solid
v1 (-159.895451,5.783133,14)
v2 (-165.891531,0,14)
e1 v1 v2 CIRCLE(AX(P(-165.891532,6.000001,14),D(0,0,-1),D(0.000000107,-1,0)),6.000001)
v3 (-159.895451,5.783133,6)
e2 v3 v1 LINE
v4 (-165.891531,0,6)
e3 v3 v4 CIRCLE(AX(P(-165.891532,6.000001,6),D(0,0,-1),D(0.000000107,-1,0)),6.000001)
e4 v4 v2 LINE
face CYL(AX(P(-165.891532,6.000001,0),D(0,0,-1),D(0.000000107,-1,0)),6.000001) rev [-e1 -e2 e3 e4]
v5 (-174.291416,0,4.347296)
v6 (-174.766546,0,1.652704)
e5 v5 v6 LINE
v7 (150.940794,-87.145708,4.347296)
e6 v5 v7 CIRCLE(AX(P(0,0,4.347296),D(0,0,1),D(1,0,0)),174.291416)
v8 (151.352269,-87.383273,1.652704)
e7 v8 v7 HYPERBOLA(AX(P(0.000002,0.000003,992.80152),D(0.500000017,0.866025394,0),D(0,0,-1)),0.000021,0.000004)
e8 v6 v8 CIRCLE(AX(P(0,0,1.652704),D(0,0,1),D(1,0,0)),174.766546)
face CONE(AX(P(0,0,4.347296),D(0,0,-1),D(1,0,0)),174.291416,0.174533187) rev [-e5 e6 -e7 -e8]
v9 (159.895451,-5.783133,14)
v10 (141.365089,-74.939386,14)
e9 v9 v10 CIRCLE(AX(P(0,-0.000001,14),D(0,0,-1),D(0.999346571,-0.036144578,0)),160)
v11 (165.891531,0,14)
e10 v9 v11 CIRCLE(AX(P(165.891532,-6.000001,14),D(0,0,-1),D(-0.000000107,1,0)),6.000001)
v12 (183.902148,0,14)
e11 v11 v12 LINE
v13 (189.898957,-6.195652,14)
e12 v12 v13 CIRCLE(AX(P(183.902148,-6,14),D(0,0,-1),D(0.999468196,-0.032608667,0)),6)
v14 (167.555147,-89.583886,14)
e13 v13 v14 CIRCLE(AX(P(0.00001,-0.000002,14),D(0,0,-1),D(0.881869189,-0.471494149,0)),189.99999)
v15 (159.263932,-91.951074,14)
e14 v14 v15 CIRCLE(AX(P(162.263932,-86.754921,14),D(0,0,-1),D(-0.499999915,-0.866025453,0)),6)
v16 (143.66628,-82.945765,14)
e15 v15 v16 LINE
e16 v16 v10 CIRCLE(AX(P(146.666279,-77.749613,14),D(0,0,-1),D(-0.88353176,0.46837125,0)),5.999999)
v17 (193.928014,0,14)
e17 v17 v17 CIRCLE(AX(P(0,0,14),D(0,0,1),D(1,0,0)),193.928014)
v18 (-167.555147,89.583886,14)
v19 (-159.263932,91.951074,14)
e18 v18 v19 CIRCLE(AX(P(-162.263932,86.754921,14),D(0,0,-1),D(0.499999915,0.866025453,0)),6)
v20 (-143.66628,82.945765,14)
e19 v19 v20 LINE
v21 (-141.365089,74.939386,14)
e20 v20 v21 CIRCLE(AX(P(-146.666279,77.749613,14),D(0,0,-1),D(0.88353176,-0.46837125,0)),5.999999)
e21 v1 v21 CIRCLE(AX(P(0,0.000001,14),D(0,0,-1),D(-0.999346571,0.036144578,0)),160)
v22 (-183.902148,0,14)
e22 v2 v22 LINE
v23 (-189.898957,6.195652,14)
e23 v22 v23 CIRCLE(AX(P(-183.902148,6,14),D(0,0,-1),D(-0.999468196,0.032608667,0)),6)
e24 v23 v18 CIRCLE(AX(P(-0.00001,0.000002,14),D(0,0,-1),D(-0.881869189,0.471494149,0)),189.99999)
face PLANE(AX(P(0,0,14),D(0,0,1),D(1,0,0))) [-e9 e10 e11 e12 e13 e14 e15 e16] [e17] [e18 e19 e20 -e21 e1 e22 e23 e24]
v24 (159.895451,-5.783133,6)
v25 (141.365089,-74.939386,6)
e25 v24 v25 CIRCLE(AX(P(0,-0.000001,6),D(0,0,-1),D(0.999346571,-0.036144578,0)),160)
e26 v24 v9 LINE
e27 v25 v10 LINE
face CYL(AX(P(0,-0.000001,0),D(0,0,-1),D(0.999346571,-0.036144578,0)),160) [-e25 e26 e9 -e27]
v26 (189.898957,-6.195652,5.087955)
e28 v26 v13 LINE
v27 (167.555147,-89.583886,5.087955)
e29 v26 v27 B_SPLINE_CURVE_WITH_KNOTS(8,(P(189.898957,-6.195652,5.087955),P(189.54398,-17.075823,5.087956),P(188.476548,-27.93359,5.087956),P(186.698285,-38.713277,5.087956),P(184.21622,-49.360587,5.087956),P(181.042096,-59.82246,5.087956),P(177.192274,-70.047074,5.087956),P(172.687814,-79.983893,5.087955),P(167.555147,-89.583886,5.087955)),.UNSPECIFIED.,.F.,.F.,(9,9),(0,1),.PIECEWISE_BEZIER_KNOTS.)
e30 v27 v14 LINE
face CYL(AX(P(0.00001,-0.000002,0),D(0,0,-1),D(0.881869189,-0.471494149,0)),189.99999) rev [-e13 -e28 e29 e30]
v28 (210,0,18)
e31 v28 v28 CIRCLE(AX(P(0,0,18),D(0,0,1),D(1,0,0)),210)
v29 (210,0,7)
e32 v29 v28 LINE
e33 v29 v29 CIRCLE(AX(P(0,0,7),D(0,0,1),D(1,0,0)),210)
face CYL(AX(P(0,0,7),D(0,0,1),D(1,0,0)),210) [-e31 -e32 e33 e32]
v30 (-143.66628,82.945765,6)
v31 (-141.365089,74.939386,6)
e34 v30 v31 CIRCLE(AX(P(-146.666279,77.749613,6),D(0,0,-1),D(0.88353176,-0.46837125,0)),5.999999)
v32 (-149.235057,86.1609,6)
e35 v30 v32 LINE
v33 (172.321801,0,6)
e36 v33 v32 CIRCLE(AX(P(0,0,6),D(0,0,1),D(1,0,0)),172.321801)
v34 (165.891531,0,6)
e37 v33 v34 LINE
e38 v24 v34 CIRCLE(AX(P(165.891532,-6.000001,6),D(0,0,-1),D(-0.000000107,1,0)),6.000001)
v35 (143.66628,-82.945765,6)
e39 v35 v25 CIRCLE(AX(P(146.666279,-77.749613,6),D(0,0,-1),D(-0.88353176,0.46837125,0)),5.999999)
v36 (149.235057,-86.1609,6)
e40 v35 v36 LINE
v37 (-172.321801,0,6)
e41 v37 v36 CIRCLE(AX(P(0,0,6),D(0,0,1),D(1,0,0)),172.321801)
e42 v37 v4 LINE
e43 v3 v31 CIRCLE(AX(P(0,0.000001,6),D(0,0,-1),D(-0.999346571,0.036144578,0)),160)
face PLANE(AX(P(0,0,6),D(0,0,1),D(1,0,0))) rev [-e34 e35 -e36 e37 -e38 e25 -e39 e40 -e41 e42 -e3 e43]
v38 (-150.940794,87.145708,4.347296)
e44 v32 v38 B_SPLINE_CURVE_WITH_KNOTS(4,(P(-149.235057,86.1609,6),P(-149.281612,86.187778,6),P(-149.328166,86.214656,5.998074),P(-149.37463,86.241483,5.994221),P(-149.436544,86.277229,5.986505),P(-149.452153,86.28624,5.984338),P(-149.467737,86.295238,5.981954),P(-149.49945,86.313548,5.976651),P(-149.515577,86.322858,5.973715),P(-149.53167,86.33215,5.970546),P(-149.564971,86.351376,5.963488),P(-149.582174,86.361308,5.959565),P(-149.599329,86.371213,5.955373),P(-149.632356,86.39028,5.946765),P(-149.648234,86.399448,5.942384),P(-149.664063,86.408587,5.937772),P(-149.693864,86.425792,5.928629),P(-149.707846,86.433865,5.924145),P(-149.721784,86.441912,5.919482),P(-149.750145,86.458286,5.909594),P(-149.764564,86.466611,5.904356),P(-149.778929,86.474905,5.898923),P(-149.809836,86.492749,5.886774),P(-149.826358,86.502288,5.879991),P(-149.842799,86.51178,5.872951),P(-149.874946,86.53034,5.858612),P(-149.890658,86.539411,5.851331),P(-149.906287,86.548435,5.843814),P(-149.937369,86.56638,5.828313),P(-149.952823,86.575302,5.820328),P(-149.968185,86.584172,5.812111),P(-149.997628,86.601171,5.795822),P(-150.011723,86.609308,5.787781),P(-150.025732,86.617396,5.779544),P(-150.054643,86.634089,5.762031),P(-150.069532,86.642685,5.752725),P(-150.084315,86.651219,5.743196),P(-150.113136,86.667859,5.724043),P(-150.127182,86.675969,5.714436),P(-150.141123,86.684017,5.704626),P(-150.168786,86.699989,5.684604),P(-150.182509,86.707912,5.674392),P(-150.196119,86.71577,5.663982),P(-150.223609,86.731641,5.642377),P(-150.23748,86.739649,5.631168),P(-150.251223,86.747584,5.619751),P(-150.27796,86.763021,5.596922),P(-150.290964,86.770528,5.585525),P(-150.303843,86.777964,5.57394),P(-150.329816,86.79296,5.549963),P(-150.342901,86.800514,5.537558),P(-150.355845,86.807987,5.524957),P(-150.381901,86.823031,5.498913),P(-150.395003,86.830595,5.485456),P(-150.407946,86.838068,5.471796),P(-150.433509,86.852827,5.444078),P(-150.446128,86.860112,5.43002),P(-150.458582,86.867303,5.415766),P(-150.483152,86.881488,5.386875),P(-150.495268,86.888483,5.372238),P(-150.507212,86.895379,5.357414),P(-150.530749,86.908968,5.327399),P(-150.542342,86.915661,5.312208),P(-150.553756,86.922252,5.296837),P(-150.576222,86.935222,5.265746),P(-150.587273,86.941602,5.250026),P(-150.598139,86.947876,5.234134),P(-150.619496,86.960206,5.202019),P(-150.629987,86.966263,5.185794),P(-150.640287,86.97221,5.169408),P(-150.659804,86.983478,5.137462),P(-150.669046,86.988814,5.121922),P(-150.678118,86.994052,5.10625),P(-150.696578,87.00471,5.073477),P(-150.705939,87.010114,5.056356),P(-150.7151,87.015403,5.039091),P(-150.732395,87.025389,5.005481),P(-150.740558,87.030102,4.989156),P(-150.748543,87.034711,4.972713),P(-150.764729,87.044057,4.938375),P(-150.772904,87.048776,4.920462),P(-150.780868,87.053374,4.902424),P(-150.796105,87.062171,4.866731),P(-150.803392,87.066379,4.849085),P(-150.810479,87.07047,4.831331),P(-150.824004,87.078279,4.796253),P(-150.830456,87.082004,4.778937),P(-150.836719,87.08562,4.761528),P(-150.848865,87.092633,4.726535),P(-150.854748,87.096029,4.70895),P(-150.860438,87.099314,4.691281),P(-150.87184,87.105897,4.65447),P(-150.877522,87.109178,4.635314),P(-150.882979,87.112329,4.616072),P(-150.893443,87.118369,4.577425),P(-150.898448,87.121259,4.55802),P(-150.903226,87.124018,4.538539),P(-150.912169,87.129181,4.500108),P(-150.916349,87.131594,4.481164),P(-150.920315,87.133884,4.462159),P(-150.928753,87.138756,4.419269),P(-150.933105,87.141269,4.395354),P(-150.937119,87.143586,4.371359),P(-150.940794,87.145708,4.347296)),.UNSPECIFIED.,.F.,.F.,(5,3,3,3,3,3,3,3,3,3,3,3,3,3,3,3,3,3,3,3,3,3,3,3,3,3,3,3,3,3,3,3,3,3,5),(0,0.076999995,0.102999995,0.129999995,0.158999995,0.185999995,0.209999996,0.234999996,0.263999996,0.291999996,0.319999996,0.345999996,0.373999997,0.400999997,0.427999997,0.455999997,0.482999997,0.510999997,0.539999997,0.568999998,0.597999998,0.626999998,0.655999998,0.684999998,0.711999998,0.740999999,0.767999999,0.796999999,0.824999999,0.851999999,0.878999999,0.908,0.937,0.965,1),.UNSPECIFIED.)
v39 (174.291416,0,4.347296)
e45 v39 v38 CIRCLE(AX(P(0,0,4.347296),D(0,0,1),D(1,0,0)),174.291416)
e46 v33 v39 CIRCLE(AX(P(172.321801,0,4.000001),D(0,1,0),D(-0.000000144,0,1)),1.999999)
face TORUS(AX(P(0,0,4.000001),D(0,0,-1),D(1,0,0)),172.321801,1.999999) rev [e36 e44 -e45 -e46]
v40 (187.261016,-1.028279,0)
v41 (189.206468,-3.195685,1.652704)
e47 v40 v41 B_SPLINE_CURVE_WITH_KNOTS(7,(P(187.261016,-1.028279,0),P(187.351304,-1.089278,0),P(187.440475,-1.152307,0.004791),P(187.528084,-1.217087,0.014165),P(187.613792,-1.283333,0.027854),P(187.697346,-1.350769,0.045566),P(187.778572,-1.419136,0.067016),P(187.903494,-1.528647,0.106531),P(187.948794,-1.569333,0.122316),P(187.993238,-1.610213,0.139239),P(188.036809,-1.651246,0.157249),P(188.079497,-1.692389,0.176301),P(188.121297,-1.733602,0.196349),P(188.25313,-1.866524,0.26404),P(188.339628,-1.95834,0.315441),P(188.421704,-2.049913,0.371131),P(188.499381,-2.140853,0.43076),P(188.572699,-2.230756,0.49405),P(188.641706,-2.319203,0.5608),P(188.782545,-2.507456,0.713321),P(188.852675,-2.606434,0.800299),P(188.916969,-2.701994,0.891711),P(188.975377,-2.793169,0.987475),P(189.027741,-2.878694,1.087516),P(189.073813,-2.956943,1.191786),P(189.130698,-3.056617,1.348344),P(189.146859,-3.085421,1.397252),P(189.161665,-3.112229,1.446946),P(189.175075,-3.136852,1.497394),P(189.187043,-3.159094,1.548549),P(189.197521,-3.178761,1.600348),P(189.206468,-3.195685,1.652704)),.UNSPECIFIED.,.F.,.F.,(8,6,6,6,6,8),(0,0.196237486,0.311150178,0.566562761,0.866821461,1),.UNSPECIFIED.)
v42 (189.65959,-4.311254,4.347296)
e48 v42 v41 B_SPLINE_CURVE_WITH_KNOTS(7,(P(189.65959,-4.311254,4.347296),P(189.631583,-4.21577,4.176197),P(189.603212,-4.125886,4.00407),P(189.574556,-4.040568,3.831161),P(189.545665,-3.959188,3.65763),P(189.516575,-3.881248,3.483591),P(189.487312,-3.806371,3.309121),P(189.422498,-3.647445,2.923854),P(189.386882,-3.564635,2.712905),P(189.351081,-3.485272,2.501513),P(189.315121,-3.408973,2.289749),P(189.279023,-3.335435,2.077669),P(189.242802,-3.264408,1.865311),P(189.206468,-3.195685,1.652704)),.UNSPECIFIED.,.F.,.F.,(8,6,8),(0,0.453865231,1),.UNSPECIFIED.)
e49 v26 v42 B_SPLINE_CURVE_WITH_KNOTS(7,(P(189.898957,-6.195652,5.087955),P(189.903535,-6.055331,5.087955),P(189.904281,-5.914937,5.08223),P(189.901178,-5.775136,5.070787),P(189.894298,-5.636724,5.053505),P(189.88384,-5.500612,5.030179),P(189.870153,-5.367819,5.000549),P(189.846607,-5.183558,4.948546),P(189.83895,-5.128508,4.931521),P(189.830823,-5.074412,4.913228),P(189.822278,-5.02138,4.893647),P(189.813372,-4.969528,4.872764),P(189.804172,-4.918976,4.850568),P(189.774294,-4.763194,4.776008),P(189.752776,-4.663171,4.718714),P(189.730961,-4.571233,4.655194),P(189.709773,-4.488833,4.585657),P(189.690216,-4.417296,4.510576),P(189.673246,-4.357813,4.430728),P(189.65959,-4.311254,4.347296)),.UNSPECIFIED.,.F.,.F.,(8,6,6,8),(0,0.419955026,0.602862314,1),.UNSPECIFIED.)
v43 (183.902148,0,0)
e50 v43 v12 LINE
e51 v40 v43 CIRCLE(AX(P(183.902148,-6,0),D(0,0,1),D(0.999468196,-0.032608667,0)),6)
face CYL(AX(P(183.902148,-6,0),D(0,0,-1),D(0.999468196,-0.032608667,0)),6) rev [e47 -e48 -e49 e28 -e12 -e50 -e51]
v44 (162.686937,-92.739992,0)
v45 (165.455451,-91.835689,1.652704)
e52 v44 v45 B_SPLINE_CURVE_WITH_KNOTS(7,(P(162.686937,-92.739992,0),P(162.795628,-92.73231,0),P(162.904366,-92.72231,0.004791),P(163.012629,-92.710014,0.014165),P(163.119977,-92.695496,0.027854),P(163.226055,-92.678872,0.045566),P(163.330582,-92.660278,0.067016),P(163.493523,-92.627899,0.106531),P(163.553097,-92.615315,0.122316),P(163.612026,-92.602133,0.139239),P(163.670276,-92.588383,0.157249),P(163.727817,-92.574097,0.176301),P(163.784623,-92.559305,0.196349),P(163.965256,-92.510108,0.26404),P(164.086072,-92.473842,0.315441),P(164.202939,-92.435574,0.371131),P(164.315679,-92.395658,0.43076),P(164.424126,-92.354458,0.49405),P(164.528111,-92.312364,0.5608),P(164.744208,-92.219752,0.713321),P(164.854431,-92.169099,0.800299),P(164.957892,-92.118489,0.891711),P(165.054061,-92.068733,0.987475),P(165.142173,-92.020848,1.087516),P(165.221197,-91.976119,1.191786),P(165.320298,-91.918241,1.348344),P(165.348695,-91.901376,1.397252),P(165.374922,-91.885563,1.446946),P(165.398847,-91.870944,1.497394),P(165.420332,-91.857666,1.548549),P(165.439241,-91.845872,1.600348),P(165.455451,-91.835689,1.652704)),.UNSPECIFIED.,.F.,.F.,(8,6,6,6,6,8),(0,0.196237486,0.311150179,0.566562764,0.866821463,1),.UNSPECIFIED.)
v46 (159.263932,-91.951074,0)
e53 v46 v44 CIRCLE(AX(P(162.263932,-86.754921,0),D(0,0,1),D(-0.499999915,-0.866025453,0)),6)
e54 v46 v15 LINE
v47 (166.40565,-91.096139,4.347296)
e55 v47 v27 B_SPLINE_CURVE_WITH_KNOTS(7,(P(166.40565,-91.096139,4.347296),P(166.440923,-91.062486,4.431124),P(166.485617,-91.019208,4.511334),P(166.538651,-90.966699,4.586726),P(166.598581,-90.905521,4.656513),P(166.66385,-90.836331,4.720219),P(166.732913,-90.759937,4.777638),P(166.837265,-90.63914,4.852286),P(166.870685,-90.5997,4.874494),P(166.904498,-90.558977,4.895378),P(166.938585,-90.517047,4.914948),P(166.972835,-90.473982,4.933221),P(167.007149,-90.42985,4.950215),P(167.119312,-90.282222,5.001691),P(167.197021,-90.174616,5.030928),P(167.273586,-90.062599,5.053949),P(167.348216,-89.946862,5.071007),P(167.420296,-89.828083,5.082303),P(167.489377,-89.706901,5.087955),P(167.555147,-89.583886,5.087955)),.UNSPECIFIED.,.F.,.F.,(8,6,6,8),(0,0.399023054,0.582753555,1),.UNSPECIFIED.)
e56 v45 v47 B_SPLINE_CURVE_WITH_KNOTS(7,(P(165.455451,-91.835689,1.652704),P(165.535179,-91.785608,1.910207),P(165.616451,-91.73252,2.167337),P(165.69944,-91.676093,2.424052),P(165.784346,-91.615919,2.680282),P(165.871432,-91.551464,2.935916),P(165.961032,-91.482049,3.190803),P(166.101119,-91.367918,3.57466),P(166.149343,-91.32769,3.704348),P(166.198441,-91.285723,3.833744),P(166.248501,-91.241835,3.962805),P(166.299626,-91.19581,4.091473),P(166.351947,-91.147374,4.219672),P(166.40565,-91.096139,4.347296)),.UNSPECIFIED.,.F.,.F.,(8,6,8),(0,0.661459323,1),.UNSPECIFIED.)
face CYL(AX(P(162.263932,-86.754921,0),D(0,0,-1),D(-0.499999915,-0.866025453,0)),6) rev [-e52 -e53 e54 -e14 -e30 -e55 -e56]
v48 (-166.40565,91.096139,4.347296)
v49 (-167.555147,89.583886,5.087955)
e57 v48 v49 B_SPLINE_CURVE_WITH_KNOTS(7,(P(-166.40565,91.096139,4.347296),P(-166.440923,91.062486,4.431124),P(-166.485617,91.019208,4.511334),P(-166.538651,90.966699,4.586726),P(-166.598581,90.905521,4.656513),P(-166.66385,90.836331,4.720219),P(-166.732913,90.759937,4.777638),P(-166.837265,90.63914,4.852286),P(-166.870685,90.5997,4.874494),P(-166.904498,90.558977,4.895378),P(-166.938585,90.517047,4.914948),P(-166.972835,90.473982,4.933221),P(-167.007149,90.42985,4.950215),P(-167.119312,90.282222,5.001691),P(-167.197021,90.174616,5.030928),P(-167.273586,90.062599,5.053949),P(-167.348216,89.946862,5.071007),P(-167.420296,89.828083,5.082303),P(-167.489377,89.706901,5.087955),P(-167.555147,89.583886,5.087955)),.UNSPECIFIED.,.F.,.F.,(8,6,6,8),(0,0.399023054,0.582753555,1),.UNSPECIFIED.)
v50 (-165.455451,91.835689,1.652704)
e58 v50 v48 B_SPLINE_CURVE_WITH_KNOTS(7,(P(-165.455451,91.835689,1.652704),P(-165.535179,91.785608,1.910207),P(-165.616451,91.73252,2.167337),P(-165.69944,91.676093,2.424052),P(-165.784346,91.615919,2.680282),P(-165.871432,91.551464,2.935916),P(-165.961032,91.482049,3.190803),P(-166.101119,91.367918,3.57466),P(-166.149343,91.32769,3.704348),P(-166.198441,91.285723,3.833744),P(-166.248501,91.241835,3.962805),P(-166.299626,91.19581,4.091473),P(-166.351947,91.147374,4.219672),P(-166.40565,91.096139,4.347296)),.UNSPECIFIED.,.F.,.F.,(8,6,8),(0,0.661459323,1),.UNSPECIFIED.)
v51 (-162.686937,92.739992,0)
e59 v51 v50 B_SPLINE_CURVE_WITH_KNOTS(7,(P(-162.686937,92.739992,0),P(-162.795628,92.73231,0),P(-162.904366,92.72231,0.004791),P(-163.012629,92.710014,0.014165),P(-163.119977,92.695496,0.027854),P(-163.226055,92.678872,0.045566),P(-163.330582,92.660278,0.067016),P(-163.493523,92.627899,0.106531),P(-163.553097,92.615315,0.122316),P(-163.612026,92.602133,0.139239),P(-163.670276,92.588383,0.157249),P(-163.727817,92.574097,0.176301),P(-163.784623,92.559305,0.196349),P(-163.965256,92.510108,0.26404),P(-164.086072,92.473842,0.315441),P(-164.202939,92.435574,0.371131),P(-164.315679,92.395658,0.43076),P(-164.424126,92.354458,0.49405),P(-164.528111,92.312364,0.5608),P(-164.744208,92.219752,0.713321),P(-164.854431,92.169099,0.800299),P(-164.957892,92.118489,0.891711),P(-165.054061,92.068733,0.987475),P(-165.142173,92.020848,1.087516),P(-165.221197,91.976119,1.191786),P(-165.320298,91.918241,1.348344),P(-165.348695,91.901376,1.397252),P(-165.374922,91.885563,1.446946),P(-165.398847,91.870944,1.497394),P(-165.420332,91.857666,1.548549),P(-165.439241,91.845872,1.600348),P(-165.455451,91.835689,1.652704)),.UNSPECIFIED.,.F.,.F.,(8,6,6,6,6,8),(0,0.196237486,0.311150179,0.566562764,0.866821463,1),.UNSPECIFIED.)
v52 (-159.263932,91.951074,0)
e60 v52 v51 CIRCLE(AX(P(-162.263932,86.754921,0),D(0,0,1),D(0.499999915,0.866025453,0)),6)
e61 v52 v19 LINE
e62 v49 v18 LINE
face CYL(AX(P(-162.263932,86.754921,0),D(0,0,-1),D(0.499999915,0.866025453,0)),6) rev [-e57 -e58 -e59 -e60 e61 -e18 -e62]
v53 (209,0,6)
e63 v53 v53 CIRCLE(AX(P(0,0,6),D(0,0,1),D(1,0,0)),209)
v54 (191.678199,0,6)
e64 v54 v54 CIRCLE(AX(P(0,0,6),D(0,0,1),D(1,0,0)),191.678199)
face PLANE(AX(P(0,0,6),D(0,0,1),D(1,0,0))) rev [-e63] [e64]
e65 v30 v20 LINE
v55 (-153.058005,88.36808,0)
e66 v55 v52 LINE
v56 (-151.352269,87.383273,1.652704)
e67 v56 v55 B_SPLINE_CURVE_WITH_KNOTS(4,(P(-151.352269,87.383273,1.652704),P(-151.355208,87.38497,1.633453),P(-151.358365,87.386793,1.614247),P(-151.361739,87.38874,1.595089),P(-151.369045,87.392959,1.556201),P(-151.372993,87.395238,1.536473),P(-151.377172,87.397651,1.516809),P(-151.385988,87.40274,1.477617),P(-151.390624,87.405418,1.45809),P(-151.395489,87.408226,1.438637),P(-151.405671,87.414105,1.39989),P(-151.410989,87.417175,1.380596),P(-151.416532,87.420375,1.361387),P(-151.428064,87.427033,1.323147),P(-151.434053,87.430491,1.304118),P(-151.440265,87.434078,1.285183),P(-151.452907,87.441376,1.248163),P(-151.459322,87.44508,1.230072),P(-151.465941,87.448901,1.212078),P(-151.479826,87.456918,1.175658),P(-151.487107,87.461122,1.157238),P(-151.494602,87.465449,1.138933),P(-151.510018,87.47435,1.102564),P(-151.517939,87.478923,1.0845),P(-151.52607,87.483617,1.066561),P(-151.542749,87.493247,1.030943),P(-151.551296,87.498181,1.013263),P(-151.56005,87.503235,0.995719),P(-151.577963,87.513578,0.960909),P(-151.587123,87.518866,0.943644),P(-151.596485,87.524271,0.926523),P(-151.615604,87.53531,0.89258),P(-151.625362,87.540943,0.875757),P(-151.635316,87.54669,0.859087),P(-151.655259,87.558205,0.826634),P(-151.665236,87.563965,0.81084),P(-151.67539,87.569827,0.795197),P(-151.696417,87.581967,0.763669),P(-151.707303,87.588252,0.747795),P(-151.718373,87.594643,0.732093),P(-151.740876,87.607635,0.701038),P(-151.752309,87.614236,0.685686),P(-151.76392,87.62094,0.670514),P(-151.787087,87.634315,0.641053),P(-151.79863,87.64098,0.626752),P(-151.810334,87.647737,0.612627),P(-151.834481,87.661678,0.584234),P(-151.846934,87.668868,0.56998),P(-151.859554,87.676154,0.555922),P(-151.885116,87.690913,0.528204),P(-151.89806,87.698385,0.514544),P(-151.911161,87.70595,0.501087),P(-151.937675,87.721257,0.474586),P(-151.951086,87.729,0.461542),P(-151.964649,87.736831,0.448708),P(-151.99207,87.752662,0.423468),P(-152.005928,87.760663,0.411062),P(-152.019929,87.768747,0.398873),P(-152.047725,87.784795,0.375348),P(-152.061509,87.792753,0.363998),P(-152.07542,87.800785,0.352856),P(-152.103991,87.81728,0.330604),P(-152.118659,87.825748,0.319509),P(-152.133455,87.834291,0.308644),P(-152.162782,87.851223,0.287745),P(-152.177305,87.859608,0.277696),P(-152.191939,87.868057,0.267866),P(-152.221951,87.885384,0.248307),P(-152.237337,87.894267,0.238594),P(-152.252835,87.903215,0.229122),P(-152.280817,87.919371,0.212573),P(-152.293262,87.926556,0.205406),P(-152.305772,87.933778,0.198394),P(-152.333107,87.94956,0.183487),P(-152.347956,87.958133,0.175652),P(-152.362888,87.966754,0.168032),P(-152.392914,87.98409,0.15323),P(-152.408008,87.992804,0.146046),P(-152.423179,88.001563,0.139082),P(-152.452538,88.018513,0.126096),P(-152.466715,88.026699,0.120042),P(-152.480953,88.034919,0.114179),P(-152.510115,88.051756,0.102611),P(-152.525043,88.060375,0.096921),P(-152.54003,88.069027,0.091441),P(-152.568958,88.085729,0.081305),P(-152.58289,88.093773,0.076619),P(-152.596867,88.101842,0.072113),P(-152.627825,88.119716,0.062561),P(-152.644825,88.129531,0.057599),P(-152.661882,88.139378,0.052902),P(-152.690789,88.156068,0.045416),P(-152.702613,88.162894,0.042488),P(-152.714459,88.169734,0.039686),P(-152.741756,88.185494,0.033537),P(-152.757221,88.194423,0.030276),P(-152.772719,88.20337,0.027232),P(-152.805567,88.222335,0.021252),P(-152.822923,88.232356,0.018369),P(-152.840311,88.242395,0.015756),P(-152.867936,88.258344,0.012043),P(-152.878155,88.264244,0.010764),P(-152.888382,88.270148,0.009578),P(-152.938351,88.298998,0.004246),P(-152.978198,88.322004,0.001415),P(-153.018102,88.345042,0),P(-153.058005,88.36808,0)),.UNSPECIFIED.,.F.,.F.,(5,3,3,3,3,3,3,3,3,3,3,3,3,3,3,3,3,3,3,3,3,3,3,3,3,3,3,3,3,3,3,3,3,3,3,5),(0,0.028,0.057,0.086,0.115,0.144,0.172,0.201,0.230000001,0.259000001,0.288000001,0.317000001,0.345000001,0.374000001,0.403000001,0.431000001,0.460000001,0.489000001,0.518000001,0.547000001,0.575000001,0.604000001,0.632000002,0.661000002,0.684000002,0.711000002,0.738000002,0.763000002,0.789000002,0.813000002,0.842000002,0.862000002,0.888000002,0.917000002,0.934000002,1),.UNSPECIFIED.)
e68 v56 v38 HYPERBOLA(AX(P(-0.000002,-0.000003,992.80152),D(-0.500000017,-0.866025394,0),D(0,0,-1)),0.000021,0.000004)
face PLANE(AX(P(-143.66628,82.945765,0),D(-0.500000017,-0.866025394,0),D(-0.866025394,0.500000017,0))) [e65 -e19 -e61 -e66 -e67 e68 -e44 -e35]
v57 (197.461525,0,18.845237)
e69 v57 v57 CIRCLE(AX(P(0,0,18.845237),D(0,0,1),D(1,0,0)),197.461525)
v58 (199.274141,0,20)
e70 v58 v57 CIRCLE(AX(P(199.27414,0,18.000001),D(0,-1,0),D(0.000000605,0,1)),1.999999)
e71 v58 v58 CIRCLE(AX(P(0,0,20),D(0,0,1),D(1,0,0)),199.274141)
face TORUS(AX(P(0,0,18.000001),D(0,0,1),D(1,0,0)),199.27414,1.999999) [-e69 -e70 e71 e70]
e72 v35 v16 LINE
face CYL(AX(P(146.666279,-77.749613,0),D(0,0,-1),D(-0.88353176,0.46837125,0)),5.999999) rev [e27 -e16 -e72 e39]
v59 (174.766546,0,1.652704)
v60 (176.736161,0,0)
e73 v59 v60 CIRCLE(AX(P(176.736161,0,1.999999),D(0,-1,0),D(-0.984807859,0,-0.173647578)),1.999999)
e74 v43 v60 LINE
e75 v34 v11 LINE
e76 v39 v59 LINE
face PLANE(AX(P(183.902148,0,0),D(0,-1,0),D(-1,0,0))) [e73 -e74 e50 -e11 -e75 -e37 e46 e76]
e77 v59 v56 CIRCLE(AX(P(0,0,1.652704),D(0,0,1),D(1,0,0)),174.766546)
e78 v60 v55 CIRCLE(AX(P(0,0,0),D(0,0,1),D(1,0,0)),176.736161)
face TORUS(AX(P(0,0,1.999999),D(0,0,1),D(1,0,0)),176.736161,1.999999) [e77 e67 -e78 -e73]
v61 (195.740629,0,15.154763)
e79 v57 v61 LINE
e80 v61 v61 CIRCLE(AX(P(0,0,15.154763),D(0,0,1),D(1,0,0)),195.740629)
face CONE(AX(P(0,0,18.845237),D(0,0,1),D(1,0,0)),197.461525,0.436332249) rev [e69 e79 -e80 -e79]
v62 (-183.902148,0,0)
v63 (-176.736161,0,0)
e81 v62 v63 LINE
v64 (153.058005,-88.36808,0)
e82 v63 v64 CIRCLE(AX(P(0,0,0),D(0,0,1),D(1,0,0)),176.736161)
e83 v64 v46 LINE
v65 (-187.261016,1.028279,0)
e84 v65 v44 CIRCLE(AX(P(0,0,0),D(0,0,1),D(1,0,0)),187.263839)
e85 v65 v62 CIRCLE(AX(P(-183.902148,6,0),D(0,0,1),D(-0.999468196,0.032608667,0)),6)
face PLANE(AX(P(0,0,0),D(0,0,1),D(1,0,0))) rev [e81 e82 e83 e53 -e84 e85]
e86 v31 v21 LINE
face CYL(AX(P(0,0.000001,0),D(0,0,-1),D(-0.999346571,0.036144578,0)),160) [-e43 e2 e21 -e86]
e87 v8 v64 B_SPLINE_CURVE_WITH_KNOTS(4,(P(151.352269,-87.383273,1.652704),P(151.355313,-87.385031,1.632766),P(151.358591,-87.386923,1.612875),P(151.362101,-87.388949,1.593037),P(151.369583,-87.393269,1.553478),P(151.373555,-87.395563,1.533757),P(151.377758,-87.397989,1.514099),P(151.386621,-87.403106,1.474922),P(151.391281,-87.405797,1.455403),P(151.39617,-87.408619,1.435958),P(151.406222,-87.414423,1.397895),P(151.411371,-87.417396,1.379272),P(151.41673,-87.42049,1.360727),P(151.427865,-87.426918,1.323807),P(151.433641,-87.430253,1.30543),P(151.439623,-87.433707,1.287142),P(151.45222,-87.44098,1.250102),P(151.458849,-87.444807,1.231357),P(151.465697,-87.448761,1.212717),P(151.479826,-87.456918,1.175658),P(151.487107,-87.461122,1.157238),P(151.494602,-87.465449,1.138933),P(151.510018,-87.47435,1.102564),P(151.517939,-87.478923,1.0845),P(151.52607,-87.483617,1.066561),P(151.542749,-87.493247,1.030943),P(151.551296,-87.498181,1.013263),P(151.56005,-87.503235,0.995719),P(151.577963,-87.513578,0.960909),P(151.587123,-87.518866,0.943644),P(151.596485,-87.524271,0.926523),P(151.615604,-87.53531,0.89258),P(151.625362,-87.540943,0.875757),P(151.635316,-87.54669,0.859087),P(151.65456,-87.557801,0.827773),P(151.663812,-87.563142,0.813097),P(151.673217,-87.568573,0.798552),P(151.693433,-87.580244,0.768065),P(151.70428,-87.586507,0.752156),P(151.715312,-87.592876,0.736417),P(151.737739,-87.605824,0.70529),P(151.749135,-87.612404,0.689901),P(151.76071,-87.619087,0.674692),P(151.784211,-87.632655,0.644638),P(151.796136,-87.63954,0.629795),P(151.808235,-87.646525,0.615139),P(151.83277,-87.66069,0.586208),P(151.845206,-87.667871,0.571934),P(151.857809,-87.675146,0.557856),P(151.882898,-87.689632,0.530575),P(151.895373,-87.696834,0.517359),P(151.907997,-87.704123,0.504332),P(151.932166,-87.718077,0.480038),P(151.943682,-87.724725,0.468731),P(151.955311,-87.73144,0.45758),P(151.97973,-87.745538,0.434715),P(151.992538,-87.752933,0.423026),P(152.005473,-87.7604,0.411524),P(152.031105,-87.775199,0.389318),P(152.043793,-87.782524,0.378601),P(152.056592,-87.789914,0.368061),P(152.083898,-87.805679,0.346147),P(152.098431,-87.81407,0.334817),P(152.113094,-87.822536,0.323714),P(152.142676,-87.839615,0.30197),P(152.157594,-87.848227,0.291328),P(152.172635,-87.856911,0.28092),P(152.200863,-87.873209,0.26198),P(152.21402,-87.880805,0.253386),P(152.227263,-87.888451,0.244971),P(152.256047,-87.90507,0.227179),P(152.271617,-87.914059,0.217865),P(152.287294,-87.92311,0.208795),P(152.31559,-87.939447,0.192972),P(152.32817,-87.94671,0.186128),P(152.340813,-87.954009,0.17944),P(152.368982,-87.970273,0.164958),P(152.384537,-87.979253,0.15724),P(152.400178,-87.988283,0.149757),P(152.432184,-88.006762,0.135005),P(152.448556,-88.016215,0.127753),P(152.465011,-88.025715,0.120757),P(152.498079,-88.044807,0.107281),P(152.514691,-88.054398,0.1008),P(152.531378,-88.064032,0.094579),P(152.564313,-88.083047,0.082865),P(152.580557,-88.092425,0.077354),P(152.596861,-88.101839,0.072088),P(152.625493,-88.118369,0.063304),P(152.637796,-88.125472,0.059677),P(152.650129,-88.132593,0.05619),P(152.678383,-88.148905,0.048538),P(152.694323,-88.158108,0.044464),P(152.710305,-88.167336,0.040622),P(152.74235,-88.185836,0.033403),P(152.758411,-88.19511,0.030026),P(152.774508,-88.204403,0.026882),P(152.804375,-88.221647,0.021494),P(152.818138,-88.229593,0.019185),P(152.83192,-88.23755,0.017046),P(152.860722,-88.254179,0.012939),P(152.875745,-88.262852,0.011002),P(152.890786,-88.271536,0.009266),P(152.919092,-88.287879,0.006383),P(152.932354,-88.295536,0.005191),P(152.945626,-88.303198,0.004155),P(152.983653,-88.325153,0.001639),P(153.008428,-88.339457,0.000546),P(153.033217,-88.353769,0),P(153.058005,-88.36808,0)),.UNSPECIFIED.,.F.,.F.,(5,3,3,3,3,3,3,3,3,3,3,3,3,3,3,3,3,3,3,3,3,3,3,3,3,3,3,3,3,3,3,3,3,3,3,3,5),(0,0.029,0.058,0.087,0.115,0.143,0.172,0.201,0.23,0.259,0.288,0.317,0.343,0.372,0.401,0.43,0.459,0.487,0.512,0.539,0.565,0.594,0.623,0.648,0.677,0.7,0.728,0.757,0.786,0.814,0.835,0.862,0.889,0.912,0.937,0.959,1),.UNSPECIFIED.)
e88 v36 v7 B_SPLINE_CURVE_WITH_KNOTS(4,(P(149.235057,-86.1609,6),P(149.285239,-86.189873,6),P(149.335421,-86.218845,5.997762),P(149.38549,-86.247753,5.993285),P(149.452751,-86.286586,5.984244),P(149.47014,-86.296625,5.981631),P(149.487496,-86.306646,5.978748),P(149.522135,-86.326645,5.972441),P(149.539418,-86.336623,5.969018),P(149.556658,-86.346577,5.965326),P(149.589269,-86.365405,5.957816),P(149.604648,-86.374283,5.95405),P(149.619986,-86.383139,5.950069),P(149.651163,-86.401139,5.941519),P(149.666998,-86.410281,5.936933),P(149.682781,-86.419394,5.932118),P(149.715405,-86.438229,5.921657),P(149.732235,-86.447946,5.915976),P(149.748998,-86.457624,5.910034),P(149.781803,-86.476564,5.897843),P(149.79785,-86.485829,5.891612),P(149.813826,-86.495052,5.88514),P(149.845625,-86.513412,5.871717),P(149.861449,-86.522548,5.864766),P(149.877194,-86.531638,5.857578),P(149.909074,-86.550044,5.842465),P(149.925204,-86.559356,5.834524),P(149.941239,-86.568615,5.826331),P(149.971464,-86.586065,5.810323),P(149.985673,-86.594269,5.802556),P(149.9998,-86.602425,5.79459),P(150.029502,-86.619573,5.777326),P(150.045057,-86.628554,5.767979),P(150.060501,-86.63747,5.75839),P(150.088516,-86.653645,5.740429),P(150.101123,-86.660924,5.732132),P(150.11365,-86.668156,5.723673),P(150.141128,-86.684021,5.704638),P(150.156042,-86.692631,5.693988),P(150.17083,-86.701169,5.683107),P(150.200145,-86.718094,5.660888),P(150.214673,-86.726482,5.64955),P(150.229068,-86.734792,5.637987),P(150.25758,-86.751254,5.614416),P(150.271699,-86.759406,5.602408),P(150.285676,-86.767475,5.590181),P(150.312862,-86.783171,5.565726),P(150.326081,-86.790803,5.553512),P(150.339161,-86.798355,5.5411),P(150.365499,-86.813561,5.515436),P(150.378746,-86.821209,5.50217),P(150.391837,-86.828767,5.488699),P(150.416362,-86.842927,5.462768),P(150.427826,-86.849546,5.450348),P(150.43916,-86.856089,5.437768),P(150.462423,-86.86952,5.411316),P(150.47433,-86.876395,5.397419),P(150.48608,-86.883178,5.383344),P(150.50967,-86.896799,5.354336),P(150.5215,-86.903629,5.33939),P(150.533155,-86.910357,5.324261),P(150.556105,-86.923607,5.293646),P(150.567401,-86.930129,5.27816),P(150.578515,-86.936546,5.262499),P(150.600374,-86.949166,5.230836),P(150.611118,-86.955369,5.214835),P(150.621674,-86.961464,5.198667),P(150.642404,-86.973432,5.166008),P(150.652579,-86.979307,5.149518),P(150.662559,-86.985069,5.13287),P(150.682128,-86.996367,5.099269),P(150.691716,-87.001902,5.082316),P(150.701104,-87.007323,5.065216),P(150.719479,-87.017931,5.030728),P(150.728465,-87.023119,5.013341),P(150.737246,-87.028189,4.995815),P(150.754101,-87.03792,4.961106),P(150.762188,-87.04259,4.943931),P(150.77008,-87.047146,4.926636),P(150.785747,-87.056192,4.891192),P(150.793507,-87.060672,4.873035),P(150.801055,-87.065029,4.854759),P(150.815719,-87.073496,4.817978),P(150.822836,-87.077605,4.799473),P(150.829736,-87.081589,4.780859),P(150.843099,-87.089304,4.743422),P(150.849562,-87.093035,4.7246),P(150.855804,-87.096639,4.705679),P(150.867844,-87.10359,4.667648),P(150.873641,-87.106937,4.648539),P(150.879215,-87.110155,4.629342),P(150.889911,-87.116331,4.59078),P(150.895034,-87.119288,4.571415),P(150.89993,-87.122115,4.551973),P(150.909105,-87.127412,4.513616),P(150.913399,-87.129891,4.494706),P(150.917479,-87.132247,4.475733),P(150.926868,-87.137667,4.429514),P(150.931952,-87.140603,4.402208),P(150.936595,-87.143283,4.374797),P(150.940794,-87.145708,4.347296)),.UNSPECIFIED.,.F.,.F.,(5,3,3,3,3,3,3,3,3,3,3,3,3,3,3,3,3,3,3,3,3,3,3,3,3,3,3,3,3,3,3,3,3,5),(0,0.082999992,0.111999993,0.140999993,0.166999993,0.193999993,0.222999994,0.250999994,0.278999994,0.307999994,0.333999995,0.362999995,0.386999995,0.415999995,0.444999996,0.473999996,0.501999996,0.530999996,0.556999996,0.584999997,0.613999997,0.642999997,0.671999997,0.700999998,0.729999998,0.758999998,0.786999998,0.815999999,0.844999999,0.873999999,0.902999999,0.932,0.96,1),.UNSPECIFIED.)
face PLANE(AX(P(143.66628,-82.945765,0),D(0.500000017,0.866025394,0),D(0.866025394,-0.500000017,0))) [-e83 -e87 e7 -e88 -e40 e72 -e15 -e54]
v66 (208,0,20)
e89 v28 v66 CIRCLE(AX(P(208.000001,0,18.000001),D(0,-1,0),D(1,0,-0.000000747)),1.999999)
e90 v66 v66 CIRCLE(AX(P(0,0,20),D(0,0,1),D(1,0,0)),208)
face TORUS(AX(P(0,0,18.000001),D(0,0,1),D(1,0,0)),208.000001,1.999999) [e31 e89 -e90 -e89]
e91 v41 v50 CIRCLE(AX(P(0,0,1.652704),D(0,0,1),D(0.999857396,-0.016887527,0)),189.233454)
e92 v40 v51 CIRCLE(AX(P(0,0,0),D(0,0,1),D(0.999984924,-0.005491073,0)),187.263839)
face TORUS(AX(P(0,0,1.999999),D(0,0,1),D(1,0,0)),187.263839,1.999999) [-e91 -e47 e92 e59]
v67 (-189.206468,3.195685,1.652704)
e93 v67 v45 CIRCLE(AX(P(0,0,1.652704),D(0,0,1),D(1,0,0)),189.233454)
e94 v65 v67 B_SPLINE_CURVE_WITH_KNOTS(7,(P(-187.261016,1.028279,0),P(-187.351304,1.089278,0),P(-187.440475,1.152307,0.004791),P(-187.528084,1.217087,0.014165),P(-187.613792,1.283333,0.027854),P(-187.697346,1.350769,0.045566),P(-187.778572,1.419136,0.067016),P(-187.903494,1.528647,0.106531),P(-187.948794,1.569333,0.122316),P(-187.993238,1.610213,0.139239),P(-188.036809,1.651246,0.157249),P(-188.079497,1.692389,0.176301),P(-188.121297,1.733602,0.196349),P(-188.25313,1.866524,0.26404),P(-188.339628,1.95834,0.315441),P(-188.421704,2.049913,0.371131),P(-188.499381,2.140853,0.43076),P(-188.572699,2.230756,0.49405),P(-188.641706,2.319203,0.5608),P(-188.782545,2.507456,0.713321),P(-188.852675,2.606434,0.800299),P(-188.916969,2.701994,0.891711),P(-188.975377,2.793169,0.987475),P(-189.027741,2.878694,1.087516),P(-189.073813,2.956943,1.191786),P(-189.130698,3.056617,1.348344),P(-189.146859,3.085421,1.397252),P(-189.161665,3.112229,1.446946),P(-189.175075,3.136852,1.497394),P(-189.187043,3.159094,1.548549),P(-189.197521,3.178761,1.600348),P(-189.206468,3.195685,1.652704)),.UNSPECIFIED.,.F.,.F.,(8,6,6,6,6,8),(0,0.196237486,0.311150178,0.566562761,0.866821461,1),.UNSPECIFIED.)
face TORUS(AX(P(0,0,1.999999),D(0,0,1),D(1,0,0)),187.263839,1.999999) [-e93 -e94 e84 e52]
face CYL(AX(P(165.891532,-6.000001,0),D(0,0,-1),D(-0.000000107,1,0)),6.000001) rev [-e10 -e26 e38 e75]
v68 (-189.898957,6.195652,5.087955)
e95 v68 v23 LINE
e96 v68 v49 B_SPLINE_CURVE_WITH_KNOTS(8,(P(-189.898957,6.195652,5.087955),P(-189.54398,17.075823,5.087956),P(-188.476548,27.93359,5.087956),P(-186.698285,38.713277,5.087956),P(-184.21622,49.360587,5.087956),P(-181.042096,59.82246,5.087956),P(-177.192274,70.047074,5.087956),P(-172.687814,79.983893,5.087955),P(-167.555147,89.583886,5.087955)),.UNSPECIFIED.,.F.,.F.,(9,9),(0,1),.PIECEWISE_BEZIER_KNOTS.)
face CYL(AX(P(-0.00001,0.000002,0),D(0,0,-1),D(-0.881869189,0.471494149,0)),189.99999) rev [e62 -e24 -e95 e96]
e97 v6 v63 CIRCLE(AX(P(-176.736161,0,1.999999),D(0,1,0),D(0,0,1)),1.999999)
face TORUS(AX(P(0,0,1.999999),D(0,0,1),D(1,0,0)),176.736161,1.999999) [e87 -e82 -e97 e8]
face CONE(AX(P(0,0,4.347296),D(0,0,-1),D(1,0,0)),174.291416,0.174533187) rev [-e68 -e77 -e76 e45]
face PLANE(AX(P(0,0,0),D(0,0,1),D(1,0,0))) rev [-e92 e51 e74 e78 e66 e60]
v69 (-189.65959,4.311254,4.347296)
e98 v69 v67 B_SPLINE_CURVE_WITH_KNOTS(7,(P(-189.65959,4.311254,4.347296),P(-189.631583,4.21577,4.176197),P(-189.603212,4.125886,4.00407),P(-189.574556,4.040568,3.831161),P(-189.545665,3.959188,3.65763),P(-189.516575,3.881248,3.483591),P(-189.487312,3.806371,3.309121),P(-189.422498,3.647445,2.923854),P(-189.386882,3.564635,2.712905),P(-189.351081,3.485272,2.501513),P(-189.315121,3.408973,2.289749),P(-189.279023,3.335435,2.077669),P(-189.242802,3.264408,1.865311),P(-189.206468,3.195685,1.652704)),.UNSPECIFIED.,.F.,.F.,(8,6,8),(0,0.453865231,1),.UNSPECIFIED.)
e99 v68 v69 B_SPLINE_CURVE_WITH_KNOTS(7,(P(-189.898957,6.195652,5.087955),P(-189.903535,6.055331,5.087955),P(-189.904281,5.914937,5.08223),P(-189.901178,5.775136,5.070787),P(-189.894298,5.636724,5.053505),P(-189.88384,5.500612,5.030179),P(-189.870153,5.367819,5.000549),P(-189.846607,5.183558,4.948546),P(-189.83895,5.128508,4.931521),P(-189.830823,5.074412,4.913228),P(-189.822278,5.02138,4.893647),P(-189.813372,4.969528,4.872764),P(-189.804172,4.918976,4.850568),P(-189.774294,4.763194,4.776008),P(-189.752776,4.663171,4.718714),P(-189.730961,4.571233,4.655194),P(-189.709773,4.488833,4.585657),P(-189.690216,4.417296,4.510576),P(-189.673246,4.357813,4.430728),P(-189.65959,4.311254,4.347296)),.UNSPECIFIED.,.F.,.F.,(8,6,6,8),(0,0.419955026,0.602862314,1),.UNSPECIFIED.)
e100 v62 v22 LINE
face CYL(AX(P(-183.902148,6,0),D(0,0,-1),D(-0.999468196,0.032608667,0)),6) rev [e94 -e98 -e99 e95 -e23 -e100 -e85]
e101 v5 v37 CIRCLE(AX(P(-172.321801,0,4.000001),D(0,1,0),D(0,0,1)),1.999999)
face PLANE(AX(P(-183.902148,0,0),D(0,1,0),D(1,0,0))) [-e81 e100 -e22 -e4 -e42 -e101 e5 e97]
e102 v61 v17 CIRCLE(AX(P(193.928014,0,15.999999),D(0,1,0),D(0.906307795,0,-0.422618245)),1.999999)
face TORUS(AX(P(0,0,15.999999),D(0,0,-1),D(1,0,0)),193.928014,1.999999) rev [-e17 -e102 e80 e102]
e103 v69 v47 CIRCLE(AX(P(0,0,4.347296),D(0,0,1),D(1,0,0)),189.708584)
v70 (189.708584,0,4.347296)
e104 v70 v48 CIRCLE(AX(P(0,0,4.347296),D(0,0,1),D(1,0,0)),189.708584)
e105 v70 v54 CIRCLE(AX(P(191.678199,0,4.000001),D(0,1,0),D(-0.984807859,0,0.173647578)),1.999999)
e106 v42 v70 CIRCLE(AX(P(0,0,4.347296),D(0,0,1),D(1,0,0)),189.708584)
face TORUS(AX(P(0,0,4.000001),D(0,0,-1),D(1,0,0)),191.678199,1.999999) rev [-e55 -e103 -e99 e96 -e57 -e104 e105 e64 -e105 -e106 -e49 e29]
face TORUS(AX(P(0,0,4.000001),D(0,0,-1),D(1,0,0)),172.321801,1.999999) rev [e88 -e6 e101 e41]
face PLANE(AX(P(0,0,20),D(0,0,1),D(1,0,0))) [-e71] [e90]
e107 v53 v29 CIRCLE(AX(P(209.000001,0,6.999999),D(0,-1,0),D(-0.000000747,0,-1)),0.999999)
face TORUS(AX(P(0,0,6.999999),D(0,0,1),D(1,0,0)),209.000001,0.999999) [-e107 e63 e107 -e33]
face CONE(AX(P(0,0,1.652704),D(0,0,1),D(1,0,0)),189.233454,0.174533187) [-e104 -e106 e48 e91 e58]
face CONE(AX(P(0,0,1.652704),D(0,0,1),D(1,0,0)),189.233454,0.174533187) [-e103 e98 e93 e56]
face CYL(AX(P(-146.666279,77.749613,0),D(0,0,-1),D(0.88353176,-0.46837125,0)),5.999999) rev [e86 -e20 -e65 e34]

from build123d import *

# Parameters (mm, degrees)
F3_DEPTH = 25


with BuildPart() as f1:
    # F0 (on Front) → F1 (revolve)
    with BuildSketch(Plane.XZ):
        with BuildLine():
            ThreePointArc((195.740629, 15.154763), (195.002613, 14.313217), (193.928014, 14))
            Line((193.928014, 14), (0, 14))
            Line((0, 14), (0, 6))
            Line((0, 6), (172.321801, 6))
            ThreePointArc((172.321801, 6), (173.607376, 5.532089), (174.291416, 4.347296))
            Line((174.291416, 4.347296), (174.766546, 1.652704))
            ThreePointArc((174.766546, 1.652704), (175.450586, 0.467911), (176.736161, 0))
            Line((176.736161, 0), (187.263839, 0))
            ThreePointArc((187.263839, 0), (188.549414, 0.467911), (189.233454, 1.652704))
            Line((189.233454, 1.652704), (189.708584, 4.347296))
            ThreePointArc((189.708584, 4.347296), (190.392624, 5.532089), (191.678199, 6))
            Line((191.678199, 6), (209, 6))
            ThreePointArc((209, 6), (209.707107, 6.292893), (210, 7))
            Line((210, 7), (210, 18))
            ThreePointArc((210, 18), (209.414214, 19.414214), (208, 20))
            Line((208, 20), (199.274141, 20))
            ThreePointArc((199.274141, 20), (198.199541, 19.686783), (197.461525, 18.845237))
            Line((197.461525, 18.845237), (195.740629, 15.154763))
        make_face()
    revolve(axis=Axis((0, 0, 7), (0, 0, 1)))

    # F2 (on Top) → F3 (cut)
    with BuildSketch(Plane.XY):
        with BuildLine():
            ThreePointArc((-167.555147, 89.583886), (-183.525907, 49.175619), (-189.898957, 6.195652))
            ThreePointArc((-189.898957, 6.195652), (-188.213407, 1.827106), (-183.902148, 0))
            Line((-183.902148, 0), (-165.891531, 0))
            ThreePointArc((-165.891531, 0), (-161.72627, 1.681366), (-159.895451, 5.783133))
            ThreePointArc((-159.895451, 5.783133), (-154.548132, 41.411047), (-141.365089, 74.939386))
            ThreePointArc((-141.365089, 74.939386), (-140.899741, 79.40703), (-143.66628, 82.945765))
            Line((-143.66628, 82.945765), (-159.263932, 91.951074))
            ThreePointArc((-159.263932, 91.951074), (-163.911145, 92.524383), (-167.555147, 89.583886))
        make_face()
        with BuildLine():
            ThreePointArc((165.891531, 0), (161.72627, -1.681366), (159.895451, -5.783133))
            ThreePointArc((159.895451, -5.783133), (154.548132, -41.411047), (141.365089, -74.939386))
            ThreePointArc((141.365089, -74.939386), (140.899741, -79.40703), (143.66628, -82.945765))
            Line((143.66628, -82.945765), (159.263932, -91.951074))
            ThreePointArc((159.263932, -91.951074), (163.911145, -92.524383), (167.555147, -89.583886))
            ThreePointArc((167.555147, -89.583886), (183.525907, -49.175619), (189.898957, -6.195652))
            ThreePointArc((189.898957, -6.195652), (188.213407, -1.827106), (183.902148, 0))
            Line((183.902148, 0), (165.891531, 0))
        make_face()
    extrude(amount=F3_DEPTH, mode=Mode.SUBTRACT)


solid = f1.part
